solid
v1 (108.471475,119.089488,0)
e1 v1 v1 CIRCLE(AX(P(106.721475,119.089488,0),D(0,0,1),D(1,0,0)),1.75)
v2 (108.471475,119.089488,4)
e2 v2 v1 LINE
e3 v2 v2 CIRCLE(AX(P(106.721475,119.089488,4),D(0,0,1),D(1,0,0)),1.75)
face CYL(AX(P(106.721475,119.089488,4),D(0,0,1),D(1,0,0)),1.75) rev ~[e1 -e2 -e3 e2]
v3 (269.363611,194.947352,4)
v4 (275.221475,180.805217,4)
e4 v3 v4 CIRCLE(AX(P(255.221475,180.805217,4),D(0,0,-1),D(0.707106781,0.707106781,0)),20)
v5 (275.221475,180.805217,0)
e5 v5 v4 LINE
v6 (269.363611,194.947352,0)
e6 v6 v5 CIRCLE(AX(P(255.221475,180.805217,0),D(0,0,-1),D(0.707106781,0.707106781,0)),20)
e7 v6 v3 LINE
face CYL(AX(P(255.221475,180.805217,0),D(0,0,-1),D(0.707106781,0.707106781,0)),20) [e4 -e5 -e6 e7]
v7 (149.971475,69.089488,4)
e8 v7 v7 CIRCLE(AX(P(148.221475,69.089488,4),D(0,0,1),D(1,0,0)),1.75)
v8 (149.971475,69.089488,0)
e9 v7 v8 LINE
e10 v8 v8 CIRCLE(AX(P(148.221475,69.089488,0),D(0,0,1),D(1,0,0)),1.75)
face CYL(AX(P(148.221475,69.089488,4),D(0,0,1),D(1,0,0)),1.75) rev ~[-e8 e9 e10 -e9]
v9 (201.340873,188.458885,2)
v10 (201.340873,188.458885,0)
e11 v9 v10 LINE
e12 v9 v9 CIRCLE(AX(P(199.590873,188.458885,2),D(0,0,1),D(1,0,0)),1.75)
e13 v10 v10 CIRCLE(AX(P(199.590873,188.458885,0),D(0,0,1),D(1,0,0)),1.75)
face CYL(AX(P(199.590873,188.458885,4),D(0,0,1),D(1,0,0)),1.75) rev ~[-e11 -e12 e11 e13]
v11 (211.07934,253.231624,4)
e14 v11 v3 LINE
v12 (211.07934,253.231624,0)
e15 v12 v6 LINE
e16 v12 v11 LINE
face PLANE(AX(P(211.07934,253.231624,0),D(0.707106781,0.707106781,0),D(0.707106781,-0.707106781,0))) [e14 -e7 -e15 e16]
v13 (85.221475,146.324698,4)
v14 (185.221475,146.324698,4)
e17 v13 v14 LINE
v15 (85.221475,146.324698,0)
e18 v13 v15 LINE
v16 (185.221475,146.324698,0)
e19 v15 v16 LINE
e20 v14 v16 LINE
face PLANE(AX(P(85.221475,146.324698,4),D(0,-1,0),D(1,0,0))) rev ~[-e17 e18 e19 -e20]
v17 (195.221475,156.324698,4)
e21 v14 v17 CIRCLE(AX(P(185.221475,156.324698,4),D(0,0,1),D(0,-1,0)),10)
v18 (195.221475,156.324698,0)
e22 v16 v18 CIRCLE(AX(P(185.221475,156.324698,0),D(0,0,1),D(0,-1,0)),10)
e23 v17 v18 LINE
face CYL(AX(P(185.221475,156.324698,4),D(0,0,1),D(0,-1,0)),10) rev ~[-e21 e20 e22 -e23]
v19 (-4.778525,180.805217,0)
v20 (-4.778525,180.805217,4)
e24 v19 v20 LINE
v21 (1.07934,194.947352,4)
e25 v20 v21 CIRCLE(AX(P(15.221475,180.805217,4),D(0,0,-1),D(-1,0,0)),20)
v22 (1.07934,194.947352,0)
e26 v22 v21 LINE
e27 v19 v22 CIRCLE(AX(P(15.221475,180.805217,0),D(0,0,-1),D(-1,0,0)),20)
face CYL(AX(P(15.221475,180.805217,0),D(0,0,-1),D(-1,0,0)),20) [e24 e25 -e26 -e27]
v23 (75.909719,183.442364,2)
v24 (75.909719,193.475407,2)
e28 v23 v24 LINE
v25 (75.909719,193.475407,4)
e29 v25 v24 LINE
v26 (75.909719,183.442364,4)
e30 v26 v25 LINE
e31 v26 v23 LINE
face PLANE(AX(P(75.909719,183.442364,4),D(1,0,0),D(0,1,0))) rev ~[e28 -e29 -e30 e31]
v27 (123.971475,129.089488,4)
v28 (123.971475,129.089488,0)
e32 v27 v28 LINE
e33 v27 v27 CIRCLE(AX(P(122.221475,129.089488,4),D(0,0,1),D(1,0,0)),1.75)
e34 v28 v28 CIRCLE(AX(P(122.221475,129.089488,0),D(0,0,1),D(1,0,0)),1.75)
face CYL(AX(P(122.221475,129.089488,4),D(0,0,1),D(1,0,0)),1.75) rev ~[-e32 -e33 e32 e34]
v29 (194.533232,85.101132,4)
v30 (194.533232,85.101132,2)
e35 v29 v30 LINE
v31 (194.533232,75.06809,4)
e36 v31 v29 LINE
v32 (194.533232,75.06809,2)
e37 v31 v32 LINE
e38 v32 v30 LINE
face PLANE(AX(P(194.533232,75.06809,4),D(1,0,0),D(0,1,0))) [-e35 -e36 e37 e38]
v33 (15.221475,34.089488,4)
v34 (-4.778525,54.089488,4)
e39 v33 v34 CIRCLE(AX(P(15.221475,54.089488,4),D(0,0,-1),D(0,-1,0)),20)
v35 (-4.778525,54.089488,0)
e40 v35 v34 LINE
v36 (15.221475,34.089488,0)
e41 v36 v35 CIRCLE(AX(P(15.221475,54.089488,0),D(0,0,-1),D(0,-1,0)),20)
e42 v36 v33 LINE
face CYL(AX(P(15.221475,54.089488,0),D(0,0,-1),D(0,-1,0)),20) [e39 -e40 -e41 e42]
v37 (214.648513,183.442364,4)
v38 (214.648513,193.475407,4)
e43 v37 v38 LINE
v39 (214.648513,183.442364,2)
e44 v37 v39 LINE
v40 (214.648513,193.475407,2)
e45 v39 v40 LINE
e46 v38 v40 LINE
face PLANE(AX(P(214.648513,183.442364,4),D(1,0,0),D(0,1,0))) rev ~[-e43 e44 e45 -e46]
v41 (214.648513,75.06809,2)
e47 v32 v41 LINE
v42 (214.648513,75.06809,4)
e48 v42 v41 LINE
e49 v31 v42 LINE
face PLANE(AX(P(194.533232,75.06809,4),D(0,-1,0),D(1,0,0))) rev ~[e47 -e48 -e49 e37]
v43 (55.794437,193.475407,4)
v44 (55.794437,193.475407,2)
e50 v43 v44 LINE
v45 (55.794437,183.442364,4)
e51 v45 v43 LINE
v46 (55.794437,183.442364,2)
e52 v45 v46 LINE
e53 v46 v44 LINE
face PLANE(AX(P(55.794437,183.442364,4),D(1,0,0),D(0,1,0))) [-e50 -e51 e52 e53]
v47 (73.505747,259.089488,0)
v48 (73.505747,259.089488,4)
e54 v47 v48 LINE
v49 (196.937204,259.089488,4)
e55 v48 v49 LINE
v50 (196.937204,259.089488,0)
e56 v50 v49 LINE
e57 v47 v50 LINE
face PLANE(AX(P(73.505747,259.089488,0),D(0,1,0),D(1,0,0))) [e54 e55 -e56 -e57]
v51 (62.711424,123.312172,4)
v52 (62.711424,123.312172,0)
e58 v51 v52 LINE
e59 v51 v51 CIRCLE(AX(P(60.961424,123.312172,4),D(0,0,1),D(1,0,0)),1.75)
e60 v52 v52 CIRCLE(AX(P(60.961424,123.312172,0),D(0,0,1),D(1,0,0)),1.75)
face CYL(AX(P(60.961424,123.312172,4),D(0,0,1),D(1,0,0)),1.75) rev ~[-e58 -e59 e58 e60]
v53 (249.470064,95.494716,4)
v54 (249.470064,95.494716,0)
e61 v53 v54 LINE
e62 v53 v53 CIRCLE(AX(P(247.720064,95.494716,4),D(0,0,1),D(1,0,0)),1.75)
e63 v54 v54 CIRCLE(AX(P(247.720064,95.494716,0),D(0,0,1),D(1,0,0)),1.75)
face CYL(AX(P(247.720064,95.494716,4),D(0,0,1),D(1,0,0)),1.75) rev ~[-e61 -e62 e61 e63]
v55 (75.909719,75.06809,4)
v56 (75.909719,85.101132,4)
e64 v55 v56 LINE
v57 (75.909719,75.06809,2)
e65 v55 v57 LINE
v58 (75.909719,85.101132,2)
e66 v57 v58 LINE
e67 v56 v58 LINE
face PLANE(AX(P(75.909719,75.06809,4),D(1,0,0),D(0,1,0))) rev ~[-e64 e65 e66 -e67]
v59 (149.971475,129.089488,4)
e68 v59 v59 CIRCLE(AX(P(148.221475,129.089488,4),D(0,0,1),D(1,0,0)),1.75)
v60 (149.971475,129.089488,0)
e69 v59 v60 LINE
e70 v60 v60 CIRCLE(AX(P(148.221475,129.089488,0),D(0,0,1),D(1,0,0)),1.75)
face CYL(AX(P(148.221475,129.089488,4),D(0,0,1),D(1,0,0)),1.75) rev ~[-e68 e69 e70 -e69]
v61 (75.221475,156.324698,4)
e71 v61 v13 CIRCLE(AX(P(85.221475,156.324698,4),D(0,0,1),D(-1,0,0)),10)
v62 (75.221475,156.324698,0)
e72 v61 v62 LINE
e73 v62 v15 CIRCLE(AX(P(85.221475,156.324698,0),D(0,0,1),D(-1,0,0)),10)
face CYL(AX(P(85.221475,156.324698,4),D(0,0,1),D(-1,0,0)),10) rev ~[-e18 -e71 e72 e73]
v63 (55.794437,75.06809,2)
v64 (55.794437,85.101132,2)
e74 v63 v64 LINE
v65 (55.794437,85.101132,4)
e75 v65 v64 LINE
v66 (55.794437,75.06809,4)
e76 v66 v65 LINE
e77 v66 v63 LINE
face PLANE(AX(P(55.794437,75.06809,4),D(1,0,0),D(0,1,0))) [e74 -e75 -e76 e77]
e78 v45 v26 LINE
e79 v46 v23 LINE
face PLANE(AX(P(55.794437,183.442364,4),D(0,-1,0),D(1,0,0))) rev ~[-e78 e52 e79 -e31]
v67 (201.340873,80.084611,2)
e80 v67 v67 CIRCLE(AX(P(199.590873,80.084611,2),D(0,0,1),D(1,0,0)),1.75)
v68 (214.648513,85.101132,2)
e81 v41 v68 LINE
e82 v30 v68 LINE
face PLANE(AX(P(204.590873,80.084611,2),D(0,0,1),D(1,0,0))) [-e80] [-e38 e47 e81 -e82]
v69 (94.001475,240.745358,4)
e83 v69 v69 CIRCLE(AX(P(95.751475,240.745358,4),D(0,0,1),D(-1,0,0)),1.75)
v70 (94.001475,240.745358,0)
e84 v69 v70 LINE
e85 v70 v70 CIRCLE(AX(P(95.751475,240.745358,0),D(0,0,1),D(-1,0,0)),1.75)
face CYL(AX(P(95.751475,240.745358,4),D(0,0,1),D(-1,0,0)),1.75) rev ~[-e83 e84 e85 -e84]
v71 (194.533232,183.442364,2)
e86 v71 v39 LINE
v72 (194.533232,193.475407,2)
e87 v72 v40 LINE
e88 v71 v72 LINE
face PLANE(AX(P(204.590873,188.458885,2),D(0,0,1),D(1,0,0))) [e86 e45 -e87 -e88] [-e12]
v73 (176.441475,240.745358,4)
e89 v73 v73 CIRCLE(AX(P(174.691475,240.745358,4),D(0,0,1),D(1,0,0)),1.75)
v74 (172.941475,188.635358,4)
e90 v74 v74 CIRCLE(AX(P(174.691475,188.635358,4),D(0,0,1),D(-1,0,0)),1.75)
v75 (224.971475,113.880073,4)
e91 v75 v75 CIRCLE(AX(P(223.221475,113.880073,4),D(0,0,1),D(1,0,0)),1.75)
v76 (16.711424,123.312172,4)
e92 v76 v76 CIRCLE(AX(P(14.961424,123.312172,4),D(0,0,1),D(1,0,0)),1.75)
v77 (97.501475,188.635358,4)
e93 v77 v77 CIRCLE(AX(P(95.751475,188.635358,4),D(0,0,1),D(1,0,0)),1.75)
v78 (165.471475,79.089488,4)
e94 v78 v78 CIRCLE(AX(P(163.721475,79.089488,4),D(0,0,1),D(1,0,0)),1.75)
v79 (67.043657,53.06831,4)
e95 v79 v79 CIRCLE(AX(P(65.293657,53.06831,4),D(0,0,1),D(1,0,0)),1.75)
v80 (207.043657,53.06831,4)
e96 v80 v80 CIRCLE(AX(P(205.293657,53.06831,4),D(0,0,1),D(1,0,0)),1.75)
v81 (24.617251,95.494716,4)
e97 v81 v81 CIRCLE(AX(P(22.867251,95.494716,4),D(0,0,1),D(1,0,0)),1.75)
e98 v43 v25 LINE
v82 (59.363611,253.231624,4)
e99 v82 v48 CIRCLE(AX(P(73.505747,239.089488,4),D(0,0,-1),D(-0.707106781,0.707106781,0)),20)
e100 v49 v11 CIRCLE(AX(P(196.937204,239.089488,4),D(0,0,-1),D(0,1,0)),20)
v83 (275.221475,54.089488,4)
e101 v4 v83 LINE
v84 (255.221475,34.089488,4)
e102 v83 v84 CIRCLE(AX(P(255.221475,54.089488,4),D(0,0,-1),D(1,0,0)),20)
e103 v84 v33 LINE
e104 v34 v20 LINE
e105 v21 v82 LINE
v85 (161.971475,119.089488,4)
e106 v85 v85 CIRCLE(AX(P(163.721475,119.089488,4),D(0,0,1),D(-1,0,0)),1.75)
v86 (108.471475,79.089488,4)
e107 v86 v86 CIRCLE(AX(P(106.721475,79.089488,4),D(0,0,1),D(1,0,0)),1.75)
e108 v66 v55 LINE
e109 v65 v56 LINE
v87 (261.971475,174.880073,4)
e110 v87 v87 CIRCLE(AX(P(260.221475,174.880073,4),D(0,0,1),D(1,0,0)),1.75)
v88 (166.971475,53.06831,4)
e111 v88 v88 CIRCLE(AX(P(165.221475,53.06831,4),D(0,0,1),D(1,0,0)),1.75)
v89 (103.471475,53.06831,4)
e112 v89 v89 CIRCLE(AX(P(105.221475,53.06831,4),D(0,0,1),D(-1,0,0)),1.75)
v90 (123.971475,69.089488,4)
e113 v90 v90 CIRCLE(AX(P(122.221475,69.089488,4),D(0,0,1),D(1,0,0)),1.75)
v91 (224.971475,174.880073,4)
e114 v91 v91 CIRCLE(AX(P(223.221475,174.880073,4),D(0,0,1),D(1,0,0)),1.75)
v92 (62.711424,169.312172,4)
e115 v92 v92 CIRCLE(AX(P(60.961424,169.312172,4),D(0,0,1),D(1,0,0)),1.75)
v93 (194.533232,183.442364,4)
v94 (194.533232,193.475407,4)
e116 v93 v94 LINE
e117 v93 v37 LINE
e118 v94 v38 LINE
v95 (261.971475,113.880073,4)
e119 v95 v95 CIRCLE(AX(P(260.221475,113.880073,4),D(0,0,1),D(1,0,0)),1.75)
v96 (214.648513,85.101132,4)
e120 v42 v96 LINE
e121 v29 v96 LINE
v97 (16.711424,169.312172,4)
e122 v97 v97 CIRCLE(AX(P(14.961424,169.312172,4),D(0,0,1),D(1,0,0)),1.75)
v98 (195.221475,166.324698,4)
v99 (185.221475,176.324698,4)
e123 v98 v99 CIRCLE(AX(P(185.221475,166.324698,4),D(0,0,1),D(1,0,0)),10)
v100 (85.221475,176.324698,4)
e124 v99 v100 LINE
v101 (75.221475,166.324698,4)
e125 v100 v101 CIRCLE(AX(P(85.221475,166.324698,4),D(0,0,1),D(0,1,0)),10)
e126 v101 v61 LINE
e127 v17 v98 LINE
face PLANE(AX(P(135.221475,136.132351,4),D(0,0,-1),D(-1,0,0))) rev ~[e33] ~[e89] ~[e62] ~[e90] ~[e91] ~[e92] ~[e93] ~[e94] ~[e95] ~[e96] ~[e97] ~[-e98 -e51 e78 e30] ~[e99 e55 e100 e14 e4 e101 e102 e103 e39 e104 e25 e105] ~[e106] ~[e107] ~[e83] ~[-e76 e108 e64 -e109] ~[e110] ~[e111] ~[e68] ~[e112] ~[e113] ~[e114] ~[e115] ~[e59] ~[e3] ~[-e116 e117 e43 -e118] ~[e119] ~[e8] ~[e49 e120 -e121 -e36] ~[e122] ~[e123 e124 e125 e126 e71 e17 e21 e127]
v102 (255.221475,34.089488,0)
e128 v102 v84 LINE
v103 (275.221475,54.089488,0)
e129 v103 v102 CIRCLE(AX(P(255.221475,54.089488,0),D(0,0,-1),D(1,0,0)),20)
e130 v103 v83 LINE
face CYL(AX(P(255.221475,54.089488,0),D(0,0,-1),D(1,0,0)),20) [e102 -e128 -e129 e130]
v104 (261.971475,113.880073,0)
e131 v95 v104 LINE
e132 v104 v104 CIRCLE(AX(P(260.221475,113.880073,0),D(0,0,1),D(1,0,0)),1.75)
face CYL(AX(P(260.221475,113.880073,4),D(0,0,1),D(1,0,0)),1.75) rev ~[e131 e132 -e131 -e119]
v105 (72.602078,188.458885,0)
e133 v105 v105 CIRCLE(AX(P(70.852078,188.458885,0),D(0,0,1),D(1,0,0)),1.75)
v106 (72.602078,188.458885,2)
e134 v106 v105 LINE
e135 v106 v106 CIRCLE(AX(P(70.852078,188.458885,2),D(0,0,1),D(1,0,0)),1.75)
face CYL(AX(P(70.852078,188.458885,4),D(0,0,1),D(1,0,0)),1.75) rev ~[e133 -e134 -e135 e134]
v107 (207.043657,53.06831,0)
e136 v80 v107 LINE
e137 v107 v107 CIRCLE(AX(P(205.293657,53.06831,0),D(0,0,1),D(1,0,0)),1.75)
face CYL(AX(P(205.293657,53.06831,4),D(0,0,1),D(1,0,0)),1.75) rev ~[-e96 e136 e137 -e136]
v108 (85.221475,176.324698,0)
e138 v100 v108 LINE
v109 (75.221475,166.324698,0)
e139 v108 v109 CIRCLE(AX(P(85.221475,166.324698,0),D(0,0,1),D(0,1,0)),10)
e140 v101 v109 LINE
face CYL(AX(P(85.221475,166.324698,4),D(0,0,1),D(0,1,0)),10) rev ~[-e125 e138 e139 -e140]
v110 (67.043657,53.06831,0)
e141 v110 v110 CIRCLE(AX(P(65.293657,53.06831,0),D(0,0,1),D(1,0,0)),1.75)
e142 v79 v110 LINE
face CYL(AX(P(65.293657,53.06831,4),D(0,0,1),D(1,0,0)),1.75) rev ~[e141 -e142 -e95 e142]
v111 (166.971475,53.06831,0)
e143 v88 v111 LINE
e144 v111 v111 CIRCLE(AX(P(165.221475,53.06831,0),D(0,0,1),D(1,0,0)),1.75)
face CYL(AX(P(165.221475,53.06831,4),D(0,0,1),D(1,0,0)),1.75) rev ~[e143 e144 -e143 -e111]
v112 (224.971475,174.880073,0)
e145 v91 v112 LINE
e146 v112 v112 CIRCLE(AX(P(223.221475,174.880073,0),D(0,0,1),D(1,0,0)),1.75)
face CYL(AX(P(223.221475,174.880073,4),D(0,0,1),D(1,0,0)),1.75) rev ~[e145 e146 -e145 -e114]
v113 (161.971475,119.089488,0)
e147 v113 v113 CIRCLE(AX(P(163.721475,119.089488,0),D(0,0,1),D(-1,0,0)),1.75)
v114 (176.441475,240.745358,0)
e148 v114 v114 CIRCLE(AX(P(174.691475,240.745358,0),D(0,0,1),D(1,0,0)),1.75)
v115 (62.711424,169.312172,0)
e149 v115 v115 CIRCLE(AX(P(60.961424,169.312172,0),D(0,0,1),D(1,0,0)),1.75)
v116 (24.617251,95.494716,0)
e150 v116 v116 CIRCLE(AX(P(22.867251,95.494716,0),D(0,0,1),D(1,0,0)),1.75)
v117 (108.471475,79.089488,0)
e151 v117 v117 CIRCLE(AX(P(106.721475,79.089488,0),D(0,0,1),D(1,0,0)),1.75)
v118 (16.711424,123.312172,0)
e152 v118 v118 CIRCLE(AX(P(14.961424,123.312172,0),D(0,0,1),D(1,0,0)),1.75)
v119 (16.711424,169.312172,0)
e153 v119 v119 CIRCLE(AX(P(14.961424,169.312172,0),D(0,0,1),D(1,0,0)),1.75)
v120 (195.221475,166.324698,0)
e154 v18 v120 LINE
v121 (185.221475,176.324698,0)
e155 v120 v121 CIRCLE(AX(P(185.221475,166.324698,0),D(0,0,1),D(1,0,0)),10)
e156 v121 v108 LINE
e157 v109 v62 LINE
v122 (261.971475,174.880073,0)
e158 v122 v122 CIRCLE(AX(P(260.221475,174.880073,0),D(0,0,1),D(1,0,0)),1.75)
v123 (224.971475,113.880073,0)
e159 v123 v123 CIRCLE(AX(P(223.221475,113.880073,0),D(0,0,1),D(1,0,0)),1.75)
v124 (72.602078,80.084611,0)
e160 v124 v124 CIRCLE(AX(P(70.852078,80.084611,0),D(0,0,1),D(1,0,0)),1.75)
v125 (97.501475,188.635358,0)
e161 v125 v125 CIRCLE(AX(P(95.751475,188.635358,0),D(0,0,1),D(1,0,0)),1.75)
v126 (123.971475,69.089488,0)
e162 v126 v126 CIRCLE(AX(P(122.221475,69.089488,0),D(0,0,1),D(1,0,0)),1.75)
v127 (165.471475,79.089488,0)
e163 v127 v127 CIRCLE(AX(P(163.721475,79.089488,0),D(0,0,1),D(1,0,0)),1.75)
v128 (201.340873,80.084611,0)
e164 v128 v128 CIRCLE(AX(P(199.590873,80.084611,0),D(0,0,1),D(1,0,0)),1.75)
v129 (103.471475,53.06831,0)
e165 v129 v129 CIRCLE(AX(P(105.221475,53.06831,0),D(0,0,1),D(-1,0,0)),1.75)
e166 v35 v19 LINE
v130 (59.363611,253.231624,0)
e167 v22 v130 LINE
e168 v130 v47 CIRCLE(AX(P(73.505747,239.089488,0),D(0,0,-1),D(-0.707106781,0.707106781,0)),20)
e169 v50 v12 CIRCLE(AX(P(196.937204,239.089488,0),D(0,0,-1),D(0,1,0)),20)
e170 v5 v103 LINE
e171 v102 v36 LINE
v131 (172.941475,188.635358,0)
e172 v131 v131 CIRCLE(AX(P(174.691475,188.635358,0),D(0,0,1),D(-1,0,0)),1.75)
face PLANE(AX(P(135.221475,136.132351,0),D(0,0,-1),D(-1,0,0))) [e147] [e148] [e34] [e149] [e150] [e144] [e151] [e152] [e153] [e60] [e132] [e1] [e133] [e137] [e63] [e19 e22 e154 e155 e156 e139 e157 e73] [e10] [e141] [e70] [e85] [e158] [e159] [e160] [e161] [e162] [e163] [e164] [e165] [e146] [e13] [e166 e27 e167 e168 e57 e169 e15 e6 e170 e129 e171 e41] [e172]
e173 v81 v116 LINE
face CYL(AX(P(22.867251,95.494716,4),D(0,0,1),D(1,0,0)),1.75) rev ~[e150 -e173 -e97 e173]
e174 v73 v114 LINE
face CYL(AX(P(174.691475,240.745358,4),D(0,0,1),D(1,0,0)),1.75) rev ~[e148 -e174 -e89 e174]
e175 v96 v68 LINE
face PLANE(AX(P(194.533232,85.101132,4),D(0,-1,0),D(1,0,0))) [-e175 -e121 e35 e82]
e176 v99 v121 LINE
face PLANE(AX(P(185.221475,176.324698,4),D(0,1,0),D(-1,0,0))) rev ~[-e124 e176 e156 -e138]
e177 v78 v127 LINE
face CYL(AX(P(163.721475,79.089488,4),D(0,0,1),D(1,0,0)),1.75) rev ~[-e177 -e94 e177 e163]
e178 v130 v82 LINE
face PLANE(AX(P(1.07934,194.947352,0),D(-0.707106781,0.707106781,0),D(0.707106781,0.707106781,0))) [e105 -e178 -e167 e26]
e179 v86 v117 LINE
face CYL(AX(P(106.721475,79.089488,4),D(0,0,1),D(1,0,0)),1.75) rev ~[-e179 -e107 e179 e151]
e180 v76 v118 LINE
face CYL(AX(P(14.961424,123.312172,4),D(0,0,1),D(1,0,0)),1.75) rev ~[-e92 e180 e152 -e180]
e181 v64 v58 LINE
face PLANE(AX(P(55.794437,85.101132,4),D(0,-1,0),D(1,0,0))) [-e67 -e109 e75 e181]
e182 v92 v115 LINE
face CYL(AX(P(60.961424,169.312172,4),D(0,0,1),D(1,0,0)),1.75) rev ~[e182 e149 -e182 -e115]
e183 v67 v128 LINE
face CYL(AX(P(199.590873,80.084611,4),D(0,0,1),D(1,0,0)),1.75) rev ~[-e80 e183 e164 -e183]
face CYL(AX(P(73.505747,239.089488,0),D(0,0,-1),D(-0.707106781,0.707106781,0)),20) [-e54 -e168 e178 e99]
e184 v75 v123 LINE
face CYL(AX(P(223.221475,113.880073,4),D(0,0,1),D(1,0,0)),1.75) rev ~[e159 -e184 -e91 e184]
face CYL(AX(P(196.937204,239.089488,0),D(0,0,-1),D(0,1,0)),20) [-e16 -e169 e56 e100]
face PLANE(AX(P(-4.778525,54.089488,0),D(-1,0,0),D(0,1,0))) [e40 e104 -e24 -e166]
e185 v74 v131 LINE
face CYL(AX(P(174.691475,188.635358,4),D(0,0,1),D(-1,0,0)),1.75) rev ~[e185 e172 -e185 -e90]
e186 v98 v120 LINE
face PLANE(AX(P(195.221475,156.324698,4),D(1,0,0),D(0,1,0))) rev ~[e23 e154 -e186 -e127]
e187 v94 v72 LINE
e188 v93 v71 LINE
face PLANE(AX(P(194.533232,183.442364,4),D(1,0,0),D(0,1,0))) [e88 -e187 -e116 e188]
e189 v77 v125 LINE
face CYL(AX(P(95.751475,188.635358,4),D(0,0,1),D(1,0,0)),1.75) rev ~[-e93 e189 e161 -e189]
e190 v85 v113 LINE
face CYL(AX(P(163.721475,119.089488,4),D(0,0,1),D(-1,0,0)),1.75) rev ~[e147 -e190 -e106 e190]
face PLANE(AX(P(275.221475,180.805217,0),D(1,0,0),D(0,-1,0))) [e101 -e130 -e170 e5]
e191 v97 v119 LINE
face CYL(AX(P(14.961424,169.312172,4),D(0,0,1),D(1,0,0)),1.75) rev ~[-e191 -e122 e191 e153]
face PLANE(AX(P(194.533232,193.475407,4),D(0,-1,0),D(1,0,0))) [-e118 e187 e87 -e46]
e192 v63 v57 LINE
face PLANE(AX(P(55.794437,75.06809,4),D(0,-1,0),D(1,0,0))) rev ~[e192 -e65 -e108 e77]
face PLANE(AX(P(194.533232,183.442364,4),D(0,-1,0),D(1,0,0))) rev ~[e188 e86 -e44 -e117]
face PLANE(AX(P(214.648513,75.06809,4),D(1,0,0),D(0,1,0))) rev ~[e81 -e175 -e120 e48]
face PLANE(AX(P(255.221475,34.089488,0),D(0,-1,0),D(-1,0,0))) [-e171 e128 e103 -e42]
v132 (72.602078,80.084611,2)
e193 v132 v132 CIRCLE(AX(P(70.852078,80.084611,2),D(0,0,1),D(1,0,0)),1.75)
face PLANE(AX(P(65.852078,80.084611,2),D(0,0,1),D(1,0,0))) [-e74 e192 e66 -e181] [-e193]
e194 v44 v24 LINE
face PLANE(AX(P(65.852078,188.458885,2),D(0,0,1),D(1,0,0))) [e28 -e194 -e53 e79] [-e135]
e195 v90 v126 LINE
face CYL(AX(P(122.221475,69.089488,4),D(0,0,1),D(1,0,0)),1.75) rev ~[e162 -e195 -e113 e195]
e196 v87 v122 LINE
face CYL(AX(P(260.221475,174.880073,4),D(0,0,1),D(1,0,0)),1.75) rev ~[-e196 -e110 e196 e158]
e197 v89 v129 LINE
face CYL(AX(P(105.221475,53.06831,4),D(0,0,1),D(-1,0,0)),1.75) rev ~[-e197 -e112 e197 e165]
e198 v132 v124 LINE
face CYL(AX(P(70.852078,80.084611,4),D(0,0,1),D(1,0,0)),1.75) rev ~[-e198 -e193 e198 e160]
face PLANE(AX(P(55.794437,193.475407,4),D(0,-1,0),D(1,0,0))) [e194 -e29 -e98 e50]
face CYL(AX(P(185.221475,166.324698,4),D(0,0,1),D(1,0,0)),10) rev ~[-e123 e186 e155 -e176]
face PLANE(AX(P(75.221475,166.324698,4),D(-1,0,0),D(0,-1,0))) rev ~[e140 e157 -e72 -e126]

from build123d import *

# Parameters (mm, degrees)
EXTRUDE_1_DEPTH      = 4
SKETCH_6_R           = 1.75
CUT_EXTRUDE_3_DEPTH  = 4
SKETCH_4_R           = 1.75
CUT_EXTRUDE_4_DEPTH  = 4
SKETCH_7_R           = 1.75
CUT_EXTRUDE_5_DEPTH  = 4
SKETCH_8_R           = 1.75
CUT_EXTRUDE_6_DEPTH  = 4
CUT_EXTRUDE_7_DEPTH  = 4
SKETCH_10_R          = 1.75
SKETCH_10_R_2        = 1.749999998
CUT_EXTRUDE_9_DEPTH  = 4
SKETCH_11_W          = 20.115281517
SKETCH_11_H          = 10.033042315
SKETCH_11_R          = 1.75
CUT_EXTRUDE_10_DEPTH = 2
SKETCH_11_5_R        = 1.75
CUT_EXTRUDE_11_DEPTH = 10
SKETCH_12_R          = 1.75
CUT_EXTRUDE_13_DEPTH = 379.008231755


with BuildPart() as part:
    # 草图3 → 凸台-拉伸1 (new body)
    with BuildSketch(Plane.XY):
        with BuildLine():
            Line((73.505746565, 259.089488009), (196.937204075, 259.089488009))
            ThreePointArc((196.937204075, 259.089488009), (204.590872722, 257.56707866), (211.079339699, 253.231623633))
            Line((211.079339699, 253.231623633), (269.363610944, 194.947352388))
            ThreePointArc((269.363610944, 194.947352388), (273.69906597, 188.458885412), (275.22147532, 180.805216764))
            Line((275.22147532, 180.805216764), (275.22147532, 54.089488009))
            ThreePointArc((275.22147532, 54.089488009), (269.363610944, 39.947352386), (255.22147532, 34.089488009))
            Line((255.22147532, 34.089488009), (15.221475318, 34.089488009))
            ThreePointArc((15.221475318, 34.089488009), (1.079339694, 39.947352386), (-4.778524682, 54.089488009))
            Line((-4.778524682, 54.089488009), (-4.778524682, 180.805216762))
            ThreePointArc((-4.778524682, 180.805216762), (-3.256115333, 188.458885409), (1.079339694, 194.947352386))
            Line((1.079339694, 194.947352386), (59.363610941, 253.231623633))
            ThreePointArc((59.363610941, 253.231623633), (65.852077918, 257.56707866), (73.505746565, 259.089488009))
        make_face()
    extrude(amount=EXTRUDE_1_DEPTH)

    # 草图6 → 切除-拉伸3 (cut)
    with BuildSketch(Plane.XY.offset(4)):
        with Locations((223.22147532, 174.880072532)):
            Circle(SKETCH_6_R)
        with Locations((260.22147532, 174.880072532)):
            Circle(SKETCH_6_R)
        with Locations((260.22147532, 113.880072532)):
            Circle(SKETCH_6_R)
        with Locations((223.22147532, 113.880072532)):
            Circle(SKETCH_6_R)
    extrude(amount=-CUT_EXTRUDE_3_DEPTH, mode=Mode.SUBTRACT)

    # 草图4 → 切除-拉伸4 (cut)
    with BuildSketch(Plane.XY.offset(4)):
        with Locations((174.691475319, 240.74535793)):
            Circle(SKETCH_4_R)
        with Locations((174.691475319, 188.63535793)):
            Circle(SKETCH_4_R)
        with Locations((95.751475319, 188.63535793)):
            Circle(SKETCH_4_R)
        with Locations((95.751475319, 240.74535793)):
            Circle(SKETCH_4_R)
        with Locations((165.22147532, 53.06830954)):
            Circle(SKETCH_4_R)
        with Locations((105.22147532, 53.06830954)):
            Circle(SKETCH_4_R)
    extrude(amount=-CUT_EXTRUDE_4_DEPTH, mode=Mode.SUBTRACT)

    # 草图7 → 切除-拉伸5 (cut)
    with BuildSketch(Plane.XY.offset(4)):
        with Locations((122.221475319, 129.089488009)):
            Circle(SKETCH_7_R)
        with Locations((148.221475319, 129.089488009)):
            Circle(SKETCH_7_R)
        with Locations((122.221475319, 69.089488009)):
            Circle(SKETCH_7_R)
        with Locations((148.221475319, 69.089488009)):
            Circle(SKETCH_7_R)
    extrude(amount=-CUT_EXTRUDE_5_DEPTH, mode=Mode.SUBTRACT)

    # 草图8 → 切除-拉伸6 (cut)
    with BuildSketch(Plane.XY.offset(4)):
        with Locations((22.867250591, 95.494716411)):
            Circle(SKETCH_8_R)
        with Locations((65.293657462, 53.06830954)):
            Circle(SKETCH_8_R)
        with Locations((247.720064334, 95.494716411)):
            Circle(SKETCH_8_R)
        with Locations((205.293657462, 53.06830954)):
            Circle(SKETCH_8_R)
    extrude(amount=-CUT_EXTRUDE_6_DEPTH, mode=Mode.SUBTRACT)

    # 草图9 → 切除-拉伸7 (cut)
    with BuildSketch(Plane.XY.offset(4)):
        with BuildLine():
            Line((135.22147532, 176.324698125), (85.22147532, 176.324698125))
            ThreePointArc((85.22147532, 176.324698125), (78.150407508, 173.395765937), (75.22147532, 166.324698125))
            Line((75.22147532, 166.324698125), (75.22147532, 156.324698125))
            ThreePointArc((75.22147532, 156.324698125), (78.150407508, 149.253630313), (85.22147532, 146.324698125))
            Line((85.22147532, 146.324698125), (185.22147532, 146.324698125))
            ThreePointArc((185.22147532, 146.324698125), (192.292543132, 149.253630313), (195.22147532, 156.324698125))
            Line((195.22147532, 156.324698125), (195.22147532, 166.324698125))
            ThreePointArc((195.22147532, 166.324698125), (192.292543132, 173.395765937), (185.22147532, 176.324698125))
            Line((185.22147532, 176.324698125), (135.22147532, 176.324698125))
        make_face()
    extrude(amount=-CUT_EXTRUDE_7_DEPTH, mode=Mode.SUBTRACT)

    # 草图10 → 切除-拉伸9 (cut)
    with BuildSketch(Plane.XY.offset(4)):
        with Locations((106.721475319, 79.089488009)):
            Circle(SKETCH_10_R)
        with Locations((163.721475321, 79.089488009)):
            Circle(SKETCH_10_R_2)
        with Locations((106.721475319, 119.089488009)):
            Circle(SKETCH_10_R)
        with Locations((163.721475321, 119.089488009)):
            Circle(SKETCH_10_R)
    extrude(amount=-CUT_EXTRUDE_9_DEPTH, mode=Mode.SUBTRACT)

    # 草图11 → 切除-拉伸10 (cut)
    # profile 1 of 4: a face of its own
    with BuildSketch(Plane.XY.offset(4)):
        with Locations((65.852077918, 188.458885409)):
            Rectangle(SKETCH_11_W, SKETCH_11_H)
        with Locations((70.852077918, 188.458885409)):
            Circle(SKETCH_11_R, mode=Mode.SUBTRACT)
    # profile 2 of 4: a face of its own
    with BuildSketch(Plane.XY.offset(4)):
        with Locations((65.852077918, 80.084611013)):
            Rectangle(SKETCH_11_W, SKETCH_11_H)
        with Locations((70.852077918, 80.084611013)):
            Circle(SKETCH_11_R, mode=Mode.SUBTRACT)
    # profile 3 of 4: a face of its own
    with BuildSketch(Plane.XY.offset(4)):
        with Locations((204.590872723, 188.458885409)):
            Rectangle(SKETCH_11_W, SKETCH_11_H)
        with Locations((199.590872722, 188.458885409)):
            Circle(SKETCH_11_R, mode=Mode.SUBTRACT)
    # profile 4 of 4: a face of its own
    with BuildSketch(Plane.XY.offset(4)):
        with Locations((204.590872723, 80.084611013)):
            Rectangle(SKETCH_11_W, SKETCH_11_H)
        with Locations((199.590872722, 80.084611013)):
            Circle(SKETCH_11_R, mode=Mode.SUBTRACT)
    extrude(amount=-CUT_EXTRUDE_10_DEPTH, mode=Mode.SUBTRACT)

    # 草图11<5> → 切除-拉伸11 (cut)
    with BuildSketch(Plane.XY.offset(4)):
        with Locations((70.852077918, 188.458885409)):
            Circle(SKETCH_11_5_R)
        with Locations((70.852077918, 80.084611013)):
            Circle(SKETCH_11_5_R)
        with Locations((199.590872722, 80.084611013)):
            Circle(SKETCH_11_5_R)
        with Locations((199.590872722, 188.458885409)):
            Circle(SKETCH_11_5_R)
    extrude(amount=-CUT_EXTRUDE_11_DEPTH, mode=Mode.SUBTRACT)

    # 草图12 → 切除-拉伸13 (cut, through all)
    with BuildSketch(Plane.XY.offset(4)):
        with Locations((60.961423691, 169.312171827)):
            Circle(SKETCH_12_R)
        with Locations((60.961423691, 123.312171827)):
            Circle(SKETCH_12_R)
        with Locations((14.961423691, 123.312171827)):
            Circle(SKETCH_12_R)
        with Locations((14.961423691, 169.312171827)):
            Circle(SKETCH_12_R)
    extrude(amount=-CUT_EXTRUDE_13_DEPTH, mode=Mode.SUBTRACT)


solid = part.part
